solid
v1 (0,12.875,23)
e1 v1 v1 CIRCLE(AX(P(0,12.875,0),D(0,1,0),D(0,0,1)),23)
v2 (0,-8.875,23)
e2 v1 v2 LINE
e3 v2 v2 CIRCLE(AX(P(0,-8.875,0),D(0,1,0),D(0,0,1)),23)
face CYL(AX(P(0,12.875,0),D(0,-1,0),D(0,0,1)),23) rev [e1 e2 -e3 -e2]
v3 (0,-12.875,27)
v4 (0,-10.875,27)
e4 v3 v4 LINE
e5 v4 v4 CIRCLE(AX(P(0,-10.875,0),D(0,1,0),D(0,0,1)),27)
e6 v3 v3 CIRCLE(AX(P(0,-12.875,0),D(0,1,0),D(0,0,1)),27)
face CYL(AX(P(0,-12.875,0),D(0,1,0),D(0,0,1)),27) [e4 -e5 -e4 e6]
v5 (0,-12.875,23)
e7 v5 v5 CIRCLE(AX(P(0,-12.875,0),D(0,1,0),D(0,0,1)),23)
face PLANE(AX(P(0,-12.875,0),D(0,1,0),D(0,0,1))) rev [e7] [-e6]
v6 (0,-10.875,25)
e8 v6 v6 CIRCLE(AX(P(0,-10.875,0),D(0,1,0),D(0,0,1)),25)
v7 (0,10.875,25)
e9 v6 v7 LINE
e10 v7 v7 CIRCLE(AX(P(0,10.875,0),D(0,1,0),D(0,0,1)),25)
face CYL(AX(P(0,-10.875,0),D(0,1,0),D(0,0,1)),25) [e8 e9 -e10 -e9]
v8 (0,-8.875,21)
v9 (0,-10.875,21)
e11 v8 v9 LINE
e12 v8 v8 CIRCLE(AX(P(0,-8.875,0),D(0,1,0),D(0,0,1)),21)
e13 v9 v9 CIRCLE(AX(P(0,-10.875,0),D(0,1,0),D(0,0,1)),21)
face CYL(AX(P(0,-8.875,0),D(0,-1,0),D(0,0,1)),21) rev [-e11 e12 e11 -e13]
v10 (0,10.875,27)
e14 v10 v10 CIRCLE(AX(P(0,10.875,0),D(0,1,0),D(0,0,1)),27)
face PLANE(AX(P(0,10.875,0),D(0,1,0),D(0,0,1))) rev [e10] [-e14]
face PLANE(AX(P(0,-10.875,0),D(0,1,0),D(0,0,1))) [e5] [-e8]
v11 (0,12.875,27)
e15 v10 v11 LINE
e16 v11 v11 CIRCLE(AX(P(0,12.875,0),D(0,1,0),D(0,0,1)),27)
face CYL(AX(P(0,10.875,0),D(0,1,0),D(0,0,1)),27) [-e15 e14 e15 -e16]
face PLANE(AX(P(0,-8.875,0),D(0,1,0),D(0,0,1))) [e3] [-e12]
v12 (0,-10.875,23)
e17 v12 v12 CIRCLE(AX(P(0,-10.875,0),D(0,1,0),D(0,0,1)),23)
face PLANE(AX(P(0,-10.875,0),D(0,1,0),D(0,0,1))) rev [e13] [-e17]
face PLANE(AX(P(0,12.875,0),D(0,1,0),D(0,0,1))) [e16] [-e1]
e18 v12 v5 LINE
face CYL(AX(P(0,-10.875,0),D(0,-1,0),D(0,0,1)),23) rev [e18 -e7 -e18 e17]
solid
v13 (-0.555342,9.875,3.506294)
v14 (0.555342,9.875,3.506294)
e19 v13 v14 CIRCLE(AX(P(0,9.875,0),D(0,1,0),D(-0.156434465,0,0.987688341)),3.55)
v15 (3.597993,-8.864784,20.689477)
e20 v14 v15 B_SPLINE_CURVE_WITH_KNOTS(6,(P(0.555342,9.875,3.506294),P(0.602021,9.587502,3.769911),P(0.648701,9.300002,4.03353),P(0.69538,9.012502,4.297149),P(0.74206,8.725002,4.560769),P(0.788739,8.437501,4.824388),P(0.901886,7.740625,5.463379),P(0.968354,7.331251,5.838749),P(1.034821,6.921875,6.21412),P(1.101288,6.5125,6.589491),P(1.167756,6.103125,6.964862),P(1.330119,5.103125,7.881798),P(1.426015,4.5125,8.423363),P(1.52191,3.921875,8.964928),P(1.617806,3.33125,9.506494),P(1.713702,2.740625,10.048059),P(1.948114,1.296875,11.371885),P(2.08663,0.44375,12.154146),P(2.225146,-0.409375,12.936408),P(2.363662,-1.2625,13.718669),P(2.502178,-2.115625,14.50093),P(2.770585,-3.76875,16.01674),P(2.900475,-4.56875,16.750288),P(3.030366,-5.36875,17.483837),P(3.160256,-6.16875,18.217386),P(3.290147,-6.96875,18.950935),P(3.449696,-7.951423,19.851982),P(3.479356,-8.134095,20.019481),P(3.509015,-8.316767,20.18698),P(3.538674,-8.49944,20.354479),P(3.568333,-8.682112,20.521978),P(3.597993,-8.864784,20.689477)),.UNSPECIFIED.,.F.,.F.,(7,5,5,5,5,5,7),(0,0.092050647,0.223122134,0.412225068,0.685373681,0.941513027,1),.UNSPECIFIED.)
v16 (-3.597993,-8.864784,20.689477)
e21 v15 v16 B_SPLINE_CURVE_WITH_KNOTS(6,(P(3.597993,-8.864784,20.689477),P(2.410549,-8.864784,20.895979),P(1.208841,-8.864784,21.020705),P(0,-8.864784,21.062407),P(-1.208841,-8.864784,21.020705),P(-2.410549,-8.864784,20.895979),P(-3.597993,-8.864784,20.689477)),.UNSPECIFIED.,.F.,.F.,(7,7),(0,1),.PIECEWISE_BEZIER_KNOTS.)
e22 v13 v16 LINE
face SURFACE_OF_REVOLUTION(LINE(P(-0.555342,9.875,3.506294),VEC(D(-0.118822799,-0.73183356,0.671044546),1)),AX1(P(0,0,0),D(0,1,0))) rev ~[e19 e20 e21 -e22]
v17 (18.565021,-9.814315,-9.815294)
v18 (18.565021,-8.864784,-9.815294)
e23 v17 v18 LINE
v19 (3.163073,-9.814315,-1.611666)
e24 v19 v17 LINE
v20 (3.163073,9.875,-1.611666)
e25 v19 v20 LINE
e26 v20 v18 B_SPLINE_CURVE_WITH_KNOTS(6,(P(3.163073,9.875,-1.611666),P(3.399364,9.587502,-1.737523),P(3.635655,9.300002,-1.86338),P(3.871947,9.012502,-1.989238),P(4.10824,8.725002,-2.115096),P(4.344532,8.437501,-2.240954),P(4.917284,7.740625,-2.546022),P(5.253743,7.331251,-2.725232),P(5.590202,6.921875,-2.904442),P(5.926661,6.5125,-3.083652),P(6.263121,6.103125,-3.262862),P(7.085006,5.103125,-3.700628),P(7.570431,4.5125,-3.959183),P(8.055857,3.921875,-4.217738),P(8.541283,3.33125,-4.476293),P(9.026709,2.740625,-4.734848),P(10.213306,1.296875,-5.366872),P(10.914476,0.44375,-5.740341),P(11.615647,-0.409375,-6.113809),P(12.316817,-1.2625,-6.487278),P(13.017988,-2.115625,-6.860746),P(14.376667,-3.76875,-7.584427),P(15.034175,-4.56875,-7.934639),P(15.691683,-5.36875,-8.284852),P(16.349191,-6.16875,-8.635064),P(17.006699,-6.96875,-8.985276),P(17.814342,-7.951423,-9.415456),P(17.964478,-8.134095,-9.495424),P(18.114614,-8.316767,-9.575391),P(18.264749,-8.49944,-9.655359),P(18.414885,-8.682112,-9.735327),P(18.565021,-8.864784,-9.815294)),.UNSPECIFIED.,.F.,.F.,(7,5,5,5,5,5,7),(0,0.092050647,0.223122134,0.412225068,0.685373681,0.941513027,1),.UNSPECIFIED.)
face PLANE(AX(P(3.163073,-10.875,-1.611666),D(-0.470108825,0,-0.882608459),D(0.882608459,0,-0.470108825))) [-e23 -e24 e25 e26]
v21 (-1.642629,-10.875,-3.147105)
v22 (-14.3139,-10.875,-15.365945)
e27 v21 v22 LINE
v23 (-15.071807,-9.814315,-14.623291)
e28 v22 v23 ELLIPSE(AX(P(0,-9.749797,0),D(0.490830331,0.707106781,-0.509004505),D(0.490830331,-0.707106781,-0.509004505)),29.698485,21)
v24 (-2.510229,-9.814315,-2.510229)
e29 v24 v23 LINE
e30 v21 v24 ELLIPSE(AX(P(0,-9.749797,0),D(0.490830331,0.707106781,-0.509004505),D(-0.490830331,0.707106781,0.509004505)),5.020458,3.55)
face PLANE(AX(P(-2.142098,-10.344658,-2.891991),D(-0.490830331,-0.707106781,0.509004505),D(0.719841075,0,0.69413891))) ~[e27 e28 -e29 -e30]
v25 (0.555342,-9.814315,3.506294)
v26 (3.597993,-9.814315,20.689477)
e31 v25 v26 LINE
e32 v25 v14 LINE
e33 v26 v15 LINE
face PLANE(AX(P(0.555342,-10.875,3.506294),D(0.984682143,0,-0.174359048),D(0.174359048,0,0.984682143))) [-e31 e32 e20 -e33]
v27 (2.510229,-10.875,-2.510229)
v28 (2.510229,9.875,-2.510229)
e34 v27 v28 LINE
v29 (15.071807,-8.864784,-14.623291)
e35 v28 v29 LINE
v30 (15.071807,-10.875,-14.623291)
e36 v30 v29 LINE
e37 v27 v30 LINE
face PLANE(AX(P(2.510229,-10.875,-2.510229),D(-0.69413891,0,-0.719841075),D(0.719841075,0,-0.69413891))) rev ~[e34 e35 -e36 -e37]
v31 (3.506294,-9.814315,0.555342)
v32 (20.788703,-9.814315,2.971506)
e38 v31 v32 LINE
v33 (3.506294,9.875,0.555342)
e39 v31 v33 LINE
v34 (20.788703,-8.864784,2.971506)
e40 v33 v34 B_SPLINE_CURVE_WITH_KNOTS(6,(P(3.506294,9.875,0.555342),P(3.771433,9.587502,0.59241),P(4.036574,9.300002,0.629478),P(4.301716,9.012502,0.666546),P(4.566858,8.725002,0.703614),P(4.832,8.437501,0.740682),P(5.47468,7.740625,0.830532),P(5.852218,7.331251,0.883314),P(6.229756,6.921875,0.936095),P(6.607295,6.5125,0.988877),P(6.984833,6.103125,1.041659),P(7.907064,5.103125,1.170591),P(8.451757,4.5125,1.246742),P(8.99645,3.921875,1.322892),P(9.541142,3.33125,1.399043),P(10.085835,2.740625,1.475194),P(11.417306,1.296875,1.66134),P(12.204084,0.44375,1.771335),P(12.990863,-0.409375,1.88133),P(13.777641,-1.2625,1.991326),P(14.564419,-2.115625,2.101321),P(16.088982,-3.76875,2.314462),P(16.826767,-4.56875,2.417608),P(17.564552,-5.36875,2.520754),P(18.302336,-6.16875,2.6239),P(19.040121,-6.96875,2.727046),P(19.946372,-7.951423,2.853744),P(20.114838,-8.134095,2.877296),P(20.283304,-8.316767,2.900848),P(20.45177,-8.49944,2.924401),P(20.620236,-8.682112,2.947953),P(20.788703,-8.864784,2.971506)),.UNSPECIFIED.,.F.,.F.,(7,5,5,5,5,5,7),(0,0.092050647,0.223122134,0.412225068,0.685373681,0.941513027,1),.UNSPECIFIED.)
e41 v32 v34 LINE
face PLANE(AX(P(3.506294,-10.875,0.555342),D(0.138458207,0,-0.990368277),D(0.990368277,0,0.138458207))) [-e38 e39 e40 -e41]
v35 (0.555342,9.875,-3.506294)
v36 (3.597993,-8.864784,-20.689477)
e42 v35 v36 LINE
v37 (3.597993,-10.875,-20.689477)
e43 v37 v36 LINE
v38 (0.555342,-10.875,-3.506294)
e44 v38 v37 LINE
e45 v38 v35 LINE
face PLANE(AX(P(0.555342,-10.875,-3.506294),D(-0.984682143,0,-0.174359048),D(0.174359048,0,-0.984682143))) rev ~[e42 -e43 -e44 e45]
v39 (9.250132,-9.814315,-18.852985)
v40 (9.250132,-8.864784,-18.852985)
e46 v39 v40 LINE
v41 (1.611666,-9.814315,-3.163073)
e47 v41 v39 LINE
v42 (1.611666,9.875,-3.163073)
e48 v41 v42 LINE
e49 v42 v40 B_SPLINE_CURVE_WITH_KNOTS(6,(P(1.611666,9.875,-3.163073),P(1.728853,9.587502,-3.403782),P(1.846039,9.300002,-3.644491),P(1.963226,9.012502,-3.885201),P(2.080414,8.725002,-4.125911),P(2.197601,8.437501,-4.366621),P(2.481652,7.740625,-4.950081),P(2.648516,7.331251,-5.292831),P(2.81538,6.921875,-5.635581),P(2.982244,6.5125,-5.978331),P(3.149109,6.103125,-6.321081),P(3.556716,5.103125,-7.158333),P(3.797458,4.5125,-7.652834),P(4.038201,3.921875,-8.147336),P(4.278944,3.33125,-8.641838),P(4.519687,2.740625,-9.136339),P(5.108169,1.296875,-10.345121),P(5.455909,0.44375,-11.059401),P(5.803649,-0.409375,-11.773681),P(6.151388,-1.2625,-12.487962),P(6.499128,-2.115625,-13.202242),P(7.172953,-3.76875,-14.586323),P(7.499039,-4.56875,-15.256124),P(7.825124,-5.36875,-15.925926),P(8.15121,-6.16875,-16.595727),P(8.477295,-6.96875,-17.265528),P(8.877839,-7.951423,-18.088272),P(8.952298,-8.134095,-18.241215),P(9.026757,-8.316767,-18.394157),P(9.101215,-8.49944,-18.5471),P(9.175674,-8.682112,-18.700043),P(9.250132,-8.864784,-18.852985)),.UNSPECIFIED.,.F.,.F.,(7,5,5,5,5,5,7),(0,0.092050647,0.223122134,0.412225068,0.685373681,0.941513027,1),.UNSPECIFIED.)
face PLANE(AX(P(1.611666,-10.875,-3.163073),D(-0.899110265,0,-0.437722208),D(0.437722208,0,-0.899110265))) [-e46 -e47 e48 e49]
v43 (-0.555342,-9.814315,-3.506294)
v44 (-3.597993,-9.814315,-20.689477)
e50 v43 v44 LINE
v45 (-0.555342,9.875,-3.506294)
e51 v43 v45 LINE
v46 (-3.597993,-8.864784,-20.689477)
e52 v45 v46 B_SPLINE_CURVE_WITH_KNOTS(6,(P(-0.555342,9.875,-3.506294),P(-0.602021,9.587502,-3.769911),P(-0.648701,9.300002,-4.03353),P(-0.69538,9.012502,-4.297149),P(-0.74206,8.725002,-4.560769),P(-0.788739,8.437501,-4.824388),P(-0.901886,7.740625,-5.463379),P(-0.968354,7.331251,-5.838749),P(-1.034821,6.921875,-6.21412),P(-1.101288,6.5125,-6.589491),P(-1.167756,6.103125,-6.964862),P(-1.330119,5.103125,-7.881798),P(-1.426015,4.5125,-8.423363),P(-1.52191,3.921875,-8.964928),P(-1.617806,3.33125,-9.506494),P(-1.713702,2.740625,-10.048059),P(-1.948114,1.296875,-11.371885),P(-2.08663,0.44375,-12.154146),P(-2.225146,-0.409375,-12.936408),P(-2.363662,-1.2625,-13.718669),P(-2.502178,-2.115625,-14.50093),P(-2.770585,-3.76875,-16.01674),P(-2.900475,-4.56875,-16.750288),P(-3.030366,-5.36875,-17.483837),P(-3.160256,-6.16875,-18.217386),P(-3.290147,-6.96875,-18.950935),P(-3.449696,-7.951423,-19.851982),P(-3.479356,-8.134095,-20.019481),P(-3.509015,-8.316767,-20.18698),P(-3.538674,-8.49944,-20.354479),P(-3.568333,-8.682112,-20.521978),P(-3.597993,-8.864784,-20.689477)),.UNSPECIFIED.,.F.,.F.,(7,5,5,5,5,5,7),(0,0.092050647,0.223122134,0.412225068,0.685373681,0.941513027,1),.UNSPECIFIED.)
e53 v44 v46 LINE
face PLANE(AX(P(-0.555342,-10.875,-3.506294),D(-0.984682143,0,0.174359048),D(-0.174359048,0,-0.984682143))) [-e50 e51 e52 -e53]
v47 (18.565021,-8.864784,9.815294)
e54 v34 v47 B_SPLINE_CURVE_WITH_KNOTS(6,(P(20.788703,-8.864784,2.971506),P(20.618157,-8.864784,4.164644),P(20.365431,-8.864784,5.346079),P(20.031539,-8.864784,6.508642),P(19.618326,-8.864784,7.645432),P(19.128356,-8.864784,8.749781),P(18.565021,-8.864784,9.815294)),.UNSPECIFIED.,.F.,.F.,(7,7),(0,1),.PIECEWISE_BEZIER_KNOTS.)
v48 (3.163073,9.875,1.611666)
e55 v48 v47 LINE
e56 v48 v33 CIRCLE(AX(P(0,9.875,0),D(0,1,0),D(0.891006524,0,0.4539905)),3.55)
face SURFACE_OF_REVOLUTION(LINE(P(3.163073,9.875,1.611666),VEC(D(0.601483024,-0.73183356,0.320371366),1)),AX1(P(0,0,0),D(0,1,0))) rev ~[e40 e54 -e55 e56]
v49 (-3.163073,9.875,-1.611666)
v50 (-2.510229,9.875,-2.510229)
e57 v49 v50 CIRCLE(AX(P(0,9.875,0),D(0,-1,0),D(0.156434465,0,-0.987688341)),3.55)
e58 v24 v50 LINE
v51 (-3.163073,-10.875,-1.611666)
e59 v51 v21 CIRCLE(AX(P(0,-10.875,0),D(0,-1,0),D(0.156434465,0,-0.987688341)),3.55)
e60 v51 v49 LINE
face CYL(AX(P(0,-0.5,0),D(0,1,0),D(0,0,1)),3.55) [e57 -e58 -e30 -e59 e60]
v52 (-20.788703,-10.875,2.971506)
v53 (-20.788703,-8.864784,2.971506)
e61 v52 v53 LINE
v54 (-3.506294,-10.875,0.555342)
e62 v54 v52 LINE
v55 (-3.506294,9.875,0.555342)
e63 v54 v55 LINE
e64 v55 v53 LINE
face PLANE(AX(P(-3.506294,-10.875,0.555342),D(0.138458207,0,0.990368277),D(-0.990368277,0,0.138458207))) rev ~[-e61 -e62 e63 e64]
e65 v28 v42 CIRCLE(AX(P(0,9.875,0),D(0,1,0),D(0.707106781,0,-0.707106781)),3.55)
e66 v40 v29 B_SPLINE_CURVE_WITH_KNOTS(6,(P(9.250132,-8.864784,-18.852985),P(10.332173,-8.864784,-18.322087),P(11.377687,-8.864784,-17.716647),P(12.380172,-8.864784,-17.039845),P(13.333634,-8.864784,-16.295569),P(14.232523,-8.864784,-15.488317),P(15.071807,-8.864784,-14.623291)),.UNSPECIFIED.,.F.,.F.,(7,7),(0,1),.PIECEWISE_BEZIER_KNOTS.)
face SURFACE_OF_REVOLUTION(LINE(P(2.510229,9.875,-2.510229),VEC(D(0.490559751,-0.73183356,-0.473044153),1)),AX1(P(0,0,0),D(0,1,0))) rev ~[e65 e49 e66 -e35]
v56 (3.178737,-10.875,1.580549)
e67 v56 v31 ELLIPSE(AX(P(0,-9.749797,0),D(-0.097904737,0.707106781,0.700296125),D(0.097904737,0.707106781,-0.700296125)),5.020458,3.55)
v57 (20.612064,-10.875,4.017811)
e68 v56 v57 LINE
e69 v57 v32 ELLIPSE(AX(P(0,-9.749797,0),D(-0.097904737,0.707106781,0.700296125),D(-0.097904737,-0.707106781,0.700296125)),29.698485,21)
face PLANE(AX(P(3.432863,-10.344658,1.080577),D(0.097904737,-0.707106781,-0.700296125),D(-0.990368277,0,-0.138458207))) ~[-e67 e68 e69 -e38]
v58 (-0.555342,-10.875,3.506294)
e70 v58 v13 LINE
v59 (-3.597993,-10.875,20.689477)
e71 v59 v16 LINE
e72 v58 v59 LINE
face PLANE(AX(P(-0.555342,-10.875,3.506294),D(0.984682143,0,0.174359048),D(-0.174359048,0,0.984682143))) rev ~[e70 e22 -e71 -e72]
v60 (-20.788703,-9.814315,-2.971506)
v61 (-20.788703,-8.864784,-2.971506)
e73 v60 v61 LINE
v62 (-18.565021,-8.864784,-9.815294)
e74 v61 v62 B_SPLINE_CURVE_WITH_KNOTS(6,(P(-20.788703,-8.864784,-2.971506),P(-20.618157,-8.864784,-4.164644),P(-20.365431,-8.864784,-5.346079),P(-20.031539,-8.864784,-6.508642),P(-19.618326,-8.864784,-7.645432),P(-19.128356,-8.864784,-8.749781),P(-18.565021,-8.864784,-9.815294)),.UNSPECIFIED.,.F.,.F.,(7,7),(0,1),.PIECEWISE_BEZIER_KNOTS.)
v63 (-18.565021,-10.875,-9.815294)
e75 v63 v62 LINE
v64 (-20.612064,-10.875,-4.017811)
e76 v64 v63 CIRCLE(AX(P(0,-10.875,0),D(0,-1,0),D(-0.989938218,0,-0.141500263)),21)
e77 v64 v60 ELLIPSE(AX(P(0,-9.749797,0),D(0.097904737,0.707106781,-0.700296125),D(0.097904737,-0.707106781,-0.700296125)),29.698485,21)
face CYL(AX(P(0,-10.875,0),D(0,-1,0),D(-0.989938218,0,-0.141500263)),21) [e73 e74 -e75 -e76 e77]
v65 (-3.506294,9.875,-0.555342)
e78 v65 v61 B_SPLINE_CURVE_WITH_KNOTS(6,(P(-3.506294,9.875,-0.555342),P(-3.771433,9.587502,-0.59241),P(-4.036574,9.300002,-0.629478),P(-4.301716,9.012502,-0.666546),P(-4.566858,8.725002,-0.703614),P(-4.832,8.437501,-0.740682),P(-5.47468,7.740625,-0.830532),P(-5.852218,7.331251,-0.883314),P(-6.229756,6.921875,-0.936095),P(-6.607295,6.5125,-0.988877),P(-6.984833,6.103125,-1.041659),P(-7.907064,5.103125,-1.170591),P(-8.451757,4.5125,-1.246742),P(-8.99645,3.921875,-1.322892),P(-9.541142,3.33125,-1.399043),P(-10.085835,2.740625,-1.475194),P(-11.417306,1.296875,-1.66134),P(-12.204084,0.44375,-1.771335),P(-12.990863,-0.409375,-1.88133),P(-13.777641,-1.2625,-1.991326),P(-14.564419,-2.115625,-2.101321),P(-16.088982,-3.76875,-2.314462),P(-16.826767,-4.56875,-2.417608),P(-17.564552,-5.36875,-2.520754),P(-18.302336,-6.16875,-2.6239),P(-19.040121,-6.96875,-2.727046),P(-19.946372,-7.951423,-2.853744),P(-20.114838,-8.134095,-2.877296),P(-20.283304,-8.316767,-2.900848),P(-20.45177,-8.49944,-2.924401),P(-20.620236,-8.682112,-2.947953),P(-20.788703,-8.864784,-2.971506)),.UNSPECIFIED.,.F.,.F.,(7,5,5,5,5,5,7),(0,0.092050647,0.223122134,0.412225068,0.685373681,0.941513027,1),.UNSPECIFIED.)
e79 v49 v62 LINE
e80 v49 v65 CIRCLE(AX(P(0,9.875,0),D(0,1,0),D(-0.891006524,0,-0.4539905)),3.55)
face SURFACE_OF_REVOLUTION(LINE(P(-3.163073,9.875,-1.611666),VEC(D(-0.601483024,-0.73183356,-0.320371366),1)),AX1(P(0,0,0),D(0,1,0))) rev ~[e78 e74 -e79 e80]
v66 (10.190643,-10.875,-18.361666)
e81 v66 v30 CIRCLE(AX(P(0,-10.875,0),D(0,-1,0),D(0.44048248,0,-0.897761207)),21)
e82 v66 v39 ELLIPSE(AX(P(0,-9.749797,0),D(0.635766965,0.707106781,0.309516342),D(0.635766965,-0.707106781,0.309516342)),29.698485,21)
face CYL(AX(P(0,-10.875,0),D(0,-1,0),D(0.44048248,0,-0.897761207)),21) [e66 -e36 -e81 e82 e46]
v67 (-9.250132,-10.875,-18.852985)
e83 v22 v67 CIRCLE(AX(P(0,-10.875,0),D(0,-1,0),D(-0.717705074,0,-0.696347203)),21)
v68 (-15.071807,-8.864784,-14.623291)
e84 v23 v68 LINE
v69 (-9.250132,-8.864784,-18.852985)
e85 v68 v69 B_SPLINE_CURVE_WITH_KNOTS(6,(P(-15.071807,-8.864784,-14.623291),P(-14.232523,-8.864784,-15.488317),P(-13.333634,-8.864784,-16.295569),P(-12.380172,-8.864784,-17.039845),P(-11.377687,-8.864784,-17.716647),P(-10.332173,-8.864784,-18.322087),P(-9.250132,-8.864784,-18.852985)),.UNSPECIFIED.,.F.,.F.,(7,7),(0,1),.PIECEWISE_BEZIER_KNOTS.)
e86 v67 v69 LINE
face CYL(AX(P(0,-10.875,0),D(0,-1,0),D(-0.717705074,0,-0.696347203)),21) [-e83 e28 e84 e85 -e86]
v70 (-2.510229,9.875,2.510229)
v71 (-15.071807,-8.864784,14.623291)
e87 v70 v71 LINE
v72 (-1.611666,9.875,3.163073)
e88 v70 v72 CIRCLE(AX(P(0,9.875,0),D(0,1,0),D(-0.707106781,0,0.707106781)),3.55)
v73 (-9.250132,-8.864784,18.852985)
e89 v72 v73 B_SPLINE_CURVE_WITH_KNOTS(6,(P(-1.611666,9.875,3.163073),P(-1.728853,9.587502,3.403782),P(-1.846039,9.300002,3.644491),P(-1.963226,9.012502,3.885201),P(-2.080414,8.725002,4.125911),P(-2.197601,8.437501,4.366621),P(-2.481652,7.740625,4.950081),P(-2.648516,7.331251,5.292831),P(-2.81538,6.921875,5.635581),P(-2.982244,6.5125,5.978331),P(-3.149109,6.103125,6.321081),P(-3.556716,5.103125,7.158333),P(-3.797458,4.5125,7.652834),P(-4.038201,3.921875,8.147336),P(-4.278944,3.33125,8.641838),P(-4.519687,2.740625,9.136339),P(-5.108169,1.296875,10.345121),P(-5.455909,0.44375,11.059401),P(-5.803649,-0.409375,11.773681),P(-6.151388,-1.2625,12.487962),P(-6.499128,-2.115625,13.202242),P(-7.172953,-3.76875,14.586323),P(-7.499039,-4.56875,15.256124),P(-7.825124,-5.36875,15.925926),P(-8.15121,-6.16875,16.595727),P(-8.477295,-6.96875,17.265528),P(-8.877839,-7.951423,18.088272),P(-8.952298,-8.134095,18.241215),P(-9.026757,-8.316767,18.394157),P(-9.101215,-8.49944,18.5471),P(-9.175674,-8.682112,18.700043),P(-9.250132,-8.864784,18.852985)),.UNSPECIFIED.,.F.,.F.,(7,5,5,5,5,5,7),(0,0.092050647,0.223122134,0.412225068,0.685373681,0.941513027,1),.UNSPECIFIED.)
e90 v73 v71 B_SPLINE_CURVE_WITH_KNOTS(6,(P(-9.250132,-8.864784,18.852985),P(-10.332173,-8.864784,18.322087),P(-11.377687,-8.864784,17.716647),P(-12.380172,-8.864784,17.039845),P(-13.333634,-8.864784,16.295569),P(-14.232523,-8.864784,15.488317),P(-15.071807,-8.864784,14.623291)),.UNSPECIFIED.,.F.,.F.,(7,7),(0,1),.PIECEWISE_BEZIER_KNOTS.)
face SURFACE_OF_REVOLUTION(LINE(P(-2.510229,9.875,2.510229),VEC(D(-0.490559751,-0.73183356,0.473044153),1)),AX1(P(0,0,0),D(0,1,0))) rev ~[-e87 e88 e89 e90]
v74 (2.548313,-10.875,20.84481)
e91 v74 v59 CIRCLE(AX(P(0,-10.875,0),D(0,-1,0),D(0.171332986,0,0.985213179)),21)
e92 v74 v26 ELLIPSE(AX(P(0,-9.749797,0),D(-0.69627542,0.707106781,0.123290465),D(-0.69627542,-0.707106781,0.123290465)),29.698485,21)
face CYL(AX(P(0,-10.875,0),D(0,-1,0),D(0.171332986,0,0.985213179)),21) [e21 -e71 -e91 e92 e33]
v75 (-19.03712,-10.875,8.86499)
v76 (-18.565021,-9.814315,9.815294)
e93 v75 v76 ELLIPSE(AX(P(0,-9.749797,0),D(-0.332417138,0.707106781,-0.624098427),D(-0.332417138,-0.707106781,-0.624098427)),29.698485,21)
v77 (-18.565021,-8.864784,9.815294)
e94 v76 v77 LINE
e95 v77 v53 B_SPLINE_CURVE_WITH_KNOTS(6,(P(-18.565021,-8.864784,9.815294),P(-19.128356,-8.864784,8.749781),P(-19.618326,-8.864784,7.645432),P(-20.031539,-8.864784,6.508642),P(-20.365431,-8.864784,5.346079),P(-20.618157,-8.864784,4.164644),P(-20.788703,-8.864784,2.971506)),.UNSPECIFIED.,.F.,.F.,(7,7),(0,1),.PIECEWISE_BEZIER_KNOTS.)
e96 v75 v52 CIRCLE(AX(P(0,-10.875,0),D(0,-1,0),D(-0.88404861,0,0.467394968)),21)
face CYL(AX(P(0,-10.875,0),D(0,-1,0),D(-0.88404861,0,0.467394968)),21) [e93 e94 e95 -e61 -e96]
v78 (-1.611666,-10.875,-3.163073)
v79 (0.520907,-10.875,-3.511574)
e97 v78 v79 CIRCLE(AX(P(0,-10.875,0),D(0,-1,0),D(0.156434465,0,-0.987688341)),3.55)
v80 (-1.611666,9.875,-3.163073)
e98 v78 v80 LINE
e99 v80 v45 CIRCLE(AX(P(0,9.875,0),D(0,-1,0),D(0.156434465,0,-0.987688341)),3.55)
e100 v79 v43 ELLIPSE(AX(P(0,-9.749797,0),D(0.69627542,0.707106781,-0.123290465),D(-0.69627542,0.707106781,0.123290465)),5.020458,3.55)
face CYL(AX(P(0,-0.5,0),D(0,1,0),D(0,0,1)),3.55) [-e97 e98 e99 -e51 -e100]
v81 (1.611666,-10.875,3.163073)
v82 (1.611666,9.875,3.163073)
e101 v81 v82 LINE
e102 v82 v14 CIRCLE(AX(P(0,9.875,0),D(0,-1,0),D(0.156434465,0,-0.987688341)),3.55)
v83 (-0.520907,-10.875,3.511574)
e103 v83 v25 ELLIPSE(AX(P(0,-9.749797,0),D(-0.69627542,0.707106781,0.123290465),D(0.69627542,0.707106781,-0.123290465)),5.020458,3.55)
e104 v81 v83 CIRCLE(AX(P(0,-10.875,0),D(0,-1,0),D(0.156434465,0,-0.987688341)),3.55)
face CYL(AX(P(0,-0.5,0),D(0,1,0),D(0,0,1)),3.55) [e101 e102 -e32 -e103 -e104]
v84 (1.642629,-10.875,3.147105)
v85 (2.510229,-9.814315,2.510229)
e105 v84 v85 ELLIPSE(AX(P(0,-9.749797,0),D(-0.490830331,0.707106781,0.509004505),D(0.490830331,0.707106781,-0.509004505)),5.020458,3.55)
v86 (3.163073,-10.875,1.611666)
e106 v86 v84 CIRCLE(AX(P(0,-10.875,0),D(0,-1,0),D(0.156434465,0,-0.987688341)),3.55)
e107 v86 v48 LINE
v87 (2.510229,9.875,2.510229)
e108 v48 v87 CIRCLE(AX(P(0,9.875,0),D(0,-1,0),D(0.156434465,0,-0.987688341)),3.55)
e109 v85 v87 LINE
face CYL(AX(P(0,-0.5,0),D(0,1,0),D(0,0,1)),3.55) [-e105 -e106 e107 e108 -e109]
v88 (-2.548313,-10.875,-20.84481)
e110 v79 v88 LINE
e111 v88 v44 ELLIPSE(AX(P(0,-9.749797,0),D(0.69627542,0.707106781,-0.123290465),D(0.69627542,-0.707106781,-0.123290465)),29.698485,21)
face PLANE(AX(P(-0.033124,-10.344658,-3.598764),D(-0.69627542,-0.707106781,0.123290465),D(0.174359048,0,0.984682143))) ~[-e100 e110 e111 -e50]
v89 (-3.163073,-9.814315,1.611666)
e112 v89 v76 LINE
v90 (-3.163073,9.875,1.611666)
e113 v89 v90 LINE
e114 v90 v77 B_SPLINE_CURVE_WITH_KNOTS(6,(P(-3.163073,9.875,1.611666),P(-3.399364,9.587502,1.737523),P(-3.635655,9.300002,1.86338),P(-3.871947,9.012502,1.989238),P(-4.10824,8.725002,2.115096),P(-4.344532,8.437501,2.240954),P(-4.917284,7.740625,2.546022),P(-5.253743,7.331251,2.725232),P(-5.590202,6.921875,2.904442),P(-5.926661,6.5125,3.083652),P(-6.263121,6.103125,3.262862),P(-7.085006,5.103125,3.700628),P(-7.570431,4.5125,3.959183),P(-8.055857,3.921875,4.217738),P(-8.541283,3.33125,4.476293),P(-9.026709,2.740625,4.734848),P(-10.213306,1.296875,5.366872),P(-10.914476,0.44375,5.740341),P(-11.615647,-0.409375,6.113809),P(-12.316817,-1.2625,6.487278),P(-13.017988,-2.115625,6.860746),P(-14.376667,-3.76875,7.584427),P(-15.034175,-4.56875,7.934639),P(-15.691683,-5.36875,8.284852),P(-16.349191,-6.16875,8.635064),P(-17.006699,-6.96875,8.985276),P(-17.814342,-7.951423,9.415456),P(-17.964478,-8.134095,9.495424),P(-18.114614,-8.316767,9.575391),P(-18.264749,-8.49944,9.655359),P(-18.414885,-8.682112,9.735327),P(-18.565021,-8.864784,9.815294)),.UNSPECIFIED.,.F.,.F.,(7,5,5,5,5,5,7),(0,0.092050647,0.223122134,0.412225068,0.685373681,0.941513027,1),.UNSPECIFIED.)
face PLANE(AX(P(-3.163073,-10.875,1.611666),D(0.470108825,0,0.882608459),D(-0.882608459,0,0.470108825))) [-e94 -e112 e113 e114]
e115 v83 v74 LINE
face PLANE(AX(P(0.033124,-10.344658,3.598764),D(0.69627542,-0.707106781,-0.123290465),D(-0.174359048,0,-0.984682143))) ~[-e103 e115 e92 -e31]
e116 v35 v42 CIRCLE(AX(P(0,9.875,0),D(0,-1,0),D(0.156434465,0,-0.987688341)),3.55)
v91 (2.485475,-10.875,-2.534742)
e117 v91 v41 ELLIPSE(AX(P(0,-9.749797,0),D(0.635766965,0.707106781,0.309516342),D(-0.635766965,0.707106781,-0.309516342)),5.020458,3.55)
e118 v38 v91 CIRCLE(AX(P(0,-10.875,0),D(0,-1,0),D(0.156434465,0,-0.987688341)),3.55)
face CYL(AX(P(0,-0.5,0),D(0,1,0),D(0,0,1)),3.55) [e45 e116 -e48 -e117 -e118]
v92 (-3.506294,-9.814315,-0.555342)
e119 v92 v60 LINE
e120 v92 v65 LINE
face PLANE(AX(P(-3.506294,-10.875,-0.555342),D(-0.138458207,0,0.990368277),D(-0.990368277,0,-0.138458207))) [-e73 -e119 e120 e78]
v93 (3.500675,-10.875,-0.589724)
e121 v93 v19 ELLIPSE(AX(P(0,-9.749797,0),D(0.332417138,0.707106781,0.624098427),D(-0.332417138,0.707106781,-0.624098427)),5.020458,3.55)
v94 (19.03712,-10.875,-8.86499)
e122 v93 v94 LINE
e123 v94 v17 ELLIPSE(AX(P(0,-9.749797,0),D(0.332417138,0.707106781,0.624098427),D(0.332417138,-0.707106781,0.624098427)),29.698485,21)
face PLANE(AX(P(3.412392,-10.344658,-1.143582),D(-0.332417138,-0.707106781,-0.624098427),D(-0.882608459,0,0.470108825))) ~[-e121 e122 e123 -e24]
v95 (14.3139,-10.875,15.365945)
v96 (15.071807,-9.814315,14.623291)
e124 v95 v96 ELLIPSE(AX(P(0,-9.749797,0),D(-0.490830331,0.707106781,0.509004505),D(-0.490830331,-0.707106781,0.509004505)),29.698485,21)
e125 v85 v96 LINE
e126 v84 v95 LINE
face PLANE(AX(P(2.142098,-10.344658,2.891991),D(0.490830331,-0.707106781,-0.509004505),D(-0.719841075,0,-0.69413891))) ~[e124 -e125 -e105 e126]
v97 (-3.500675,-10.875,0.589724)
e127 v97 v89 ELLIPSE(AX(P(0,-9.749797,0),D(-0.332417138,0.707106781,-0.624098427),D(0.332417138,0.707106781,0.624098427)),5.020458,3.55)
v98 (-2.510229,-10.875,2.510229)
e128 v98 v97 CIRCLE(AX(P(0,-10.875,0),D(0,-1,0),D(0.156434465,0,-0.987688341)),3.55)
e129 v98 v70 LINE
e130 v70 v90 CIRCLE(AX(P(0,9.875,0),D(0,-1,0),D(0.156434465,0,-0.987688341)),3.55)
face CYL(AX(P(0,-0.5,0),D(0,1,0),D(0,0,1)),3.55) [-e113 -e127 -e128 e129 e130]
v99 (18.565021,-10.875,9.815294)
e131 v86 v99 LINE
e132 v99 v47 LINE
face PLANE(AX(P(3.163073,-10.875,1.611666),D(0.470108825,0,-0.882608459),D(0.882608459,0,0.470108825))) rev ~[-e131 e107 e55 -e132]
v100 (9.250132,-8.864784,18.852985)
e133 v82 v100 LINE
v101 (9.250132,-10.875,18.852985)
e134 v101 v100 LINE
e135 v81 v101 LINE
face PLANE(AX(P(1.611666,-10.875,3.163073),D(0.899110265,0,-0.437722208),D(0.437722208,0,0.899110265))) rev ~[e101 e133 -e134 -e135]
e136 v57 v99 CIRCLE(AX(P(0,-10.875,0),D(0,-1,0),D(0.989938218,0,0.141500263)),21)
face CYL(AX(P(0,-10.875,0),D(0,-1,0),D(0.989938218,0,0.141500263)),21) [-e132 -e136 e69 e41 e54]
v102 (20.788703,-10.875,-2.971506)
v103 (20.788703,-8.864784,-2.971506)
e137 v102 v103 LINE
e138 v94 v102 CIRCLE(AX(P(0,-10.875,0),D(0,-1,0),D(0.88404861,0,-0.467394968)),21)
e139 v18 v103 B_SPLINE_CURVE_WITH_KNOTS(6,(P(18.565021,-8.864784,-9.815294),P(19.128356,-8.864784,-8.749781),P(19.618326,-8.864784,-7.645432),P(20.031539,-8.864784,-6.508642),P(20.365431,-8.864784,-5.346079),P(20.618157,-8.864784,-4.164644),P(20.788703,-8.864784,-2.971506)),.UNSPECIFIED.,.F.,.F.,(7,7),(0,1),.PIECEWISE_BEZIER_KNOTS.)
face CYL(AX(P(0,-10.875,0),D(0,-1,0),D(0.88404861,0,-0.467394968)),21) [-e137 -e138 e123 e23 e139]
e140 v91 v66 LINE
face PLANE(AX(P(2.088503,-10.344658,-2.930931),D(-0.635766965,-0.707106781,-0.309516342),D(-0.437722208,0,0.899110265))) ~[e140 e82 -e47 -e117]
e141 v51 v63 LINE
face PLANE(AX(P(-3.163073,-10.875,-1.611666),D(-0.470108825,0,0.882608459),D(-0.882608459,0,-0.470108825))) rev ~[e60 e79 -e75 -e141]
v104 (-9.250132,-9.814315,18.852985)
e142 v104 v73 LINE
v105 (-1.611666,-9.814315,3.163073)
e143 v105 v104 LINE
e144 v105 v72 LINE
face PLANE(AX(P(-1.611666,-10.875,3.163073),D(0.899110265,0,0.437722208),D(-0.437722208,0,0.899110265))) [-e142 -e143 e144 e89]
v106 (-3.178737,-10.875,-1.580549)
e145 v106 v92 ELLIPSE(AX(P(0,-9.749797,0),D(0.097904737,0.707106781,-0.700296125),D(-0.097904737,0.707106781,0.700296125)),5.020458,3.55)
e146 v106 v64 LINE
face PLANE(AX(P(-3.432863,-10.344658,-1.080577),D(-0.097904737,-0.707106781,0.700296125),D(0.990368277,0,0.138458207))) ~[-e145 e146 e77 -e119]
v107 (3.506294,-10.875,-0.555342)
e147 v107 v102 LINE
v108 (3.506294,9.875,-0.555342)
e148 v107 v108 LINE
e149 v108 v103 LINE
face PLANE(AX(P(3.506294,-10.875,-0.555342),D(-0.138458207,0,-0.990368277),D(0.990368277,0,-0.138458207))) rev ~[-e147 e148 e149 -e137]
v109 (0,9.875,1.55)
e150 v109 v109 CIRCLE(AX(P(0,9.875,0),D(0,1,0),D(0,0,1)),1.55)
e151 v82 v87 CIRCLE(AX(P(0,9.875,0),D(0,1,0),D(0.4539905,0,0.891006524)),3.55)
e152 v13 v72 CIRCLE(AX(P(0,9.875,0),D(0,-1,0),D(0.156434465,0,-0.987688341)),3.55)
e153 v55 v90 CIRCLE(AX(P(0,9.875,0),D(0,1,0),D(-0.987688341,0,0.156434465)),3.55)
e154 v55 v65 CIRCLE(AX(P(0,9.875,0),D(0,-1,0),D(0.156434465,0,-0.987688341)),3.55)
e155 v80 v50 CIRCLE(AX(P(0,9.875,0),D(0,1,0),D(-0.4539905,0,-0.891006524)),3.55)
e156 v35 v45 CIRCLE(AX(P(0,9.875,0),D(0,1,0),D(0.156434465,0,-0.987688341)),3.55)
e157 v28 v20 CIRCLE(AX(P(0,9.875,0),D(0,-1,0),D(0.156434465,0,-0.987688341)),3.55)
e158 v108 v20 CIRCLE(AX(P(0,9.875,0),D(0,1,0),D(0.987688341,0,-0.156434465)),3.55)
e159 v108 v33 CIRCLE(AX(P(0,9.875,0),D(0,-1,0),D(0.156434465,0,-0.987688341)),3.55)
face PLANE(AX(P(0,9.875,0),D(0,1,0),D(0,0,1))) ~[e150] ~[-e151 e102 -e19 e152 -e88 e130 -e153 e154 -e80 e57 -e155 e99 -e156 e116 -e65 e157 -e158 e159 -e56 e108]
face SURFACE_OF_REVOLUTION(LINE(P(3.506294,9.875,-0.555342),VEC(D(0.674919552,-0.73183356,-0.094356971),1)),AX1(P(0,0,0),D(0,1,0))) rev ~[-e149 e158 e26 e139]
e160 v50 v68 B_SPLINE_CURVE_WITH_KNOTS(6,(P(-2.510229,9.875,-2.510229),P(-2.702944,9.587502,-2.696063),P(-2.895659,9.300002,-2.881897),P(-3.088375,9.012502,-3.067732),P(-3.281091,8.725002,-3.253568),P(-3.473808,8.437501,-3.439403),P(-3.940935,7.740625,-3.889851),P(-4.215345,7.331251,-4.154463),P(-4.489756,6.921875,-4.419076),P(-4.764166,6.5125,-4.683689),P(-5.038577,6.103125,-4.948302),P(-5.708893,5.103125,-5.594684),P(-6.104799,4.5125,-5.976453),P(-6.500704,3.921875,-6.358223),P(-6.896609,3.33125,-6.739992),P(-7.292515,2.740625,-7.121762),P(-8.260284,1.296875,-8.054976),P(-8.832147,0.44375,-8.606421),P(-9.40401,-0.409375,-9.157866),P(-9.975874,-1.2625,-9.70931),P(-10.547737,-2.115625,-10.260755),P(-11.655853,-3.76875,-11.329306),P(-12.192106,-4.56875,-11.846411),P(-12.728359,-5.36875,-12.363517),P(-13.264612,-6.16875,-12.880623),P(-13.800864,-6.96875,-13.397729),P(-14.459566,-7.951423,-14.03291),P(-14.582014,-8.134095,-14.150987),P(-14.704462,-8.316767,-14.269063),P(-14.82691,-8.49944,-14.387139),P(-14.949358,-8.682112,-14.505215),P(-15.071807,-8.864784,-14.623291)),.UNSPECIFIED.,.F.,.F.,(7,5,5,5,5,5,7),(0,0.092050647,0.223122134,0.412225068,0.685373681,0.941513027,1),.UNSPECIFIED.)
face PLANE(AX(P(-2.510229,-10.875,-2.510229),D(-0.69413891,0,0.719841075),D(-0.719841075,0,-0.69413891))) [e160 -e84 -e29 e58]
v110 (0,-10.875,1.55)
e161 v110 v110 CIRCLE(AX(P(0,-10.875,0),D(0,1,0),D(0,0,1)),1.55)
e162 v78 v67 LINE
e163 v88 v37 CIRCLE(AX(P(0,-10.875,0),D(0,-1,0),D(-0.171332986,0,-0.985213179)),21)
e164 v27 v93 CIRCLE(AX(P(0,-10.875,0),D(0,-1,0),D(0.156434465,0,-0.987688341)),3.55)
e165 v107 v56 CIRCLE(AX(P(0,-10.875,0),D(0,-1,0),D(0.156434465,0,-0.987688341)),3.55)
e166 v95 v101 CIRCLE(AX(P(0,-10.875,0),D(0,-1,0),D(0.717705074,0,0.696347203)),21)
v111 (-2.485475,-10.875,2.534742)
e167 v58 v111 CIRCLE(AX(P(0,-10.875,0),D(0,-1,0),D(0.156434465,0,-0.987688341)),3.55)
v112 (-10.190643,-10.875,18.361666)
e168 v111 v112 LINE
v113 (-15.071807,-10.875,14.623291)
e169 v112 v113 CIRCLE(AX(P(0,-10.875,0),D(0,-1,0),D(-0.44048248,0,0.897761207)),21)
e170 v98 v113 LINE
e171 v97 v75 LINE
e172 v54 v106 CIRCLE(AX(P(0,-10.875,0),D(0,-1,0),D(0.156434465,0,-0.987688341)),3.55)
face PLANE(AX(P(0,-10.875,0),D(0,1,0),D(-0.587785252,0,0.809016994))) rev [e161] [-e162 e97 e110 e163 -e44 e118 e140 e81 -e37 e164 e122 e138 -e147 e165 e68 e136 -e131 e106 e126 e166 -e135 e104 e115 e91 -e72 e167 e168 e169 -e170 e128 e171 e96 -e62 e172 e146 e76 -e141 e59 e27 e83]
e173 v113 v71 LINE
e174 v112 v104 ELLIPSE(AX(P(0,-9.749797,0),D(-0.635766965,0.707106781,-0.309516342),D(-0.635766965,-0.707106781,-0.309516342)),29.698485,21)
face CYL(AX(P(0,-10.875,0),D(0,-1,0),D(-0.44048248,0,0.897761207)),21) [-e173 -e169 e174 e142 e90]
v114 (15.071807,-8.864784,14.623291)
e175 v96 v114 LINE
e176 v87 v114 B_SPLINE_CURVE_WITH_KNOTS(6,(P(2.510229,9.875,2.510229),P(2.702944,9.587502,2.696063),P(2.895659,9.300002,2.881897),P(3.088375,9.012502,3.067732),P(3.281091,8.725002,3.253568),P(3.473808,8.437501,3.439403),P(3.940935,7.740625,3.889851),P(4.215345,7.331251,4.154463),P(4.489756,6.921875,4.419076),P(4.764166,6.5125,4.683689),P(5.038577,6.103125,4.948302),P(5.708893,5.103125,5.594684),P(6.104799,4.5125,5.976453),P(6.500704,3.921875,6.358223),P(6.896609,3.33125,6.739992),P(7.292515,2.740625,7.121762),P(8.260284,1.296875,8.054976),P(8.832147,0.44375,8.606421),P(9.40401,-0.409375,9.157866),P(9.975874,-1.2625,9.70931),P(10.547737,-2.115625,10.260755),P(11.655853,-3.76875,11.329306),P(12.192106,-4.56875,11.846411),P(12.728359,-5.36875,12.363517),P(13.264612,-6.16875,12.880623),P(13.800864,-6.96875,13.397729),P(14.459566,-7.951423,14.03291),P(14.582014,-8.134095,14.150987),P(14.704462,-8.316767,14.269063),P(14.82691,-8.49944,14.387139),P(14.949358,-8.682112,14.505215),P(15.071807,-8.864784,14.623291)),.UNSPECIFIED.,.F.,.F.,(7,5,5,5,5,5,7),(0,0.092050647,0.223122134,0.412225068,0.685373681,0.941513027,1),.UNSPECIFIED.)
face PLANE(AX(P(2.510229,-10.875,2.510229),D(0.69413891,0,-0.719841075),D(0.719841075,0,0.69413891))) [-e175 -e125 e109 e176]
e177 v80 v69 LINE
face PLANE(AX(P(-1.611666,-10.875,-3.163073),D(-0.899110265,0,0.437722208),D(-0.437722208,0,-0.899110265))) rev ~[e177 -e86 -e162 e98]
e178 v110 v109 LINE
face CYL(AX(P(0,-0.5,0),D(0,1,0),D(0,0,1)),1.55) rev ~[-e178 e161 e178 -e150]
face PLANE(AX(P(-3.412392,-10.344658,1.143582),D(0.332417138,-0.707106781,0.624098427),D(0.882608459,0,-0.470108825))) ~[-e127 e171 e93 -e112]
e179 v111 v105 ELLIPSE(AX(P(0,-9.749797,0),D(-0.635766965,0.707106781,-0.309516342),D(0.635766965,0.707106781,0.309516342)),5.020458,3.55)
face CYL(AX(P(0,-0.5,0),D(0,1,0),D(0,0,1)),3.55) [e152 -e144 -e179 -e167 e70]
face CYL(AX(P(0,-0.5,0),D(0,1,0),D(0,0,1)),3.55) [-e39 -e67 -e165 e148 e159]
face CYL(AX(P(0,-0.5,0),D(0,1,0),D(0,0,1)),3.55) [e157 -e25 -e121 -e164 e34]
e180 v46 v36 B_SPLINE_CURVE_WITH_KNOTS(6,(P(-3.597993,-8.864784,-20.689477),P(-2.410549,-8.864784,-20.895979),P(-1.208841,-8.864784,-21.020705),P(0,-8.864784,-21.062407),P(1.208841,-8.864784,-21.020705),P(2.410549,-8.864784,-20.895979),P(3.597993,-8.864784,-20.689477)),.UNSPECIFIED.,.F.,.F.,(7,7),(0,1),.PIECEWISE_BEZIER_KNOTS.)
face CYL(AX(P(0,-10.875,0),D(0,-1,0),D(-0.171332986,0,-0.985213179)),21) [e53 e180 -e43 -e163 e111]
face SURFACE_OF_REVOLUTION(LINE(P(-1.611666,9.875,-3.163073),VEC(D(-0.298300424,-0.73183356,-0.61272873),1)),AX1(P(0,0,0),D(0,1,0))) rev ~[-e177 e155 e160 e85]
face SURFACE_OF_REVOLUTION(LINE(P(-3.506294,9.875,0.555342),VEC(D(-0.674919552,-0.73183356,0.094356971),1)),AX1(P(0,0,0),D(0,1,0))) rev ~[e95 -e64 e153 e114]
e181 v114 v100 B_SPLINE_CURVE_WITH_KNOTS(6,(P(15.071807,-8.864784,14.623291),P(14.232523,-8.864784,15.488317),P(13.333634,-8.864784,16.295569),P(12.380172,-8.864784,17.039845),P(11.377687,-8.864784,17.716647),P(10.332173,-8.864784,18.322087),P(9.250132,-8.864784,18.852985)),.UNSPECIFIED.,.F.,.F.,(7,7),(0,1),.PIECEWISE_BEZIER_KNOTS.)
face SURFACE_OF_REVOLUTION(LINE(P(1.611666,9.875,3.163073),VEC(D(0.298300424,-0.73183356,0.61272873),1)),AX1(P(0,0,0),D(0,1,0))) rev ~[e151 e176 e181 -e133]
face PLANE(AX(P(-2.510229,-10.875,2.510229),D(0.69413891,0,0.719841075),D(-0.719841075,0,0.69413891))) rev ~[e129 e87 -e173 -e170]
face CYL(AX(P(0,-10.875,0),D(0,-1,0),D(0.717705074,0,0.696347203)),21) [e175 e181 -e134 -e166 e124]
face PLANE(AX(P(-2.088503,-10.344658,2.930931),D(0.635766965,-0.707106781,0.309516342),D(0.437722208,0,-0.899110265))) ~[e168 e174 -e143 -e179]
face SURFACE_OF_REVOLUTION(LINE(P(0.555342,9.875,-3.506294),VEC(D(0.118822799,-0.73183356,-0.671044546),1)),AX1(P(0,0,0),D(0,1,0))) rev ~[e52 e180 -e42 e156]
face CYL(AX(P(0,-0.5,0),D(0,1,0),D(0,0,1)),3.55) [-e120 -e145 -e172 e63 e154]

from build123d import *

# Parameters (mm, degrees)
SKETCH002_W        = 20.75
SKETCH002_H        = 2
PAD_DEPTH          = 20.75
CHAMFER_SIZE       = 1.0606847018
POLARPATTERN_COUNT = 10


with BuildPart() as wheelrimbody:
    # Sketch → Revolution (revolve)
    with BuildSketch(Plane.YZ):
        Polygon((-10.875, 25.0000000006), (10.875, 25), (10.875, 27), (12.875, 27), (12.875, 23), (-8.875, 23), (-8.875, 21), (-10.875, 21), (-10.875, 23), (-12.875, 23), (-12.875, 27.0000000006), (-10.875, 27.0000000006), align=None)
    revolve(axis=Axis((0, 0, 0), (0, 1, 0)))


with BuildPart() as wheelaxleandspokesbody:
    # Sketch002 → Revolution001 (revolve)
    with BuildSketch(Plane.YZ):
        with Locations((-0.5, 2.55)):
            Rectangle(SKETCH002_W, SKETCH002_H)
    revolve(axis=Axis((0, 0, 0), (0, 1, 0)))

    # Sketch001 (on DatumPlane) → Pad (new body)
    with BuildSketch(Plane(origin=(0, -10.875, 0), x_dir=(0, 0, -1), z_dir=(0, -1, 0))):
        with BuildLine():
            ThreePointArc((20.689476759, -3.5979926959), (21, 0), (20.689476759, 3.5979926959))
            Line((3.5062936091, 0.5553423509), (20.689476759, 3.5979926959))
            ThreePointArc((3.5062936091, -0.5553423509), (3.55, 0), (3.5062936091, 0.5553423509))
            Line((3.5062936091, -0.5553423509), (20.689476759, -3.5979926959))
        make_face()
    extrude(amount=-PAD_DEPTH)

    # Sketch003 (on Local_CS) → Groove (revolve, cut)
    with BuildSketch(Plane(origin=(0.5553423509, 9.875, -3.5062936091), x_dir=(0.1743590483, 0, -0.9846821428), z_dir=(0.9846821428, 0, 0.1743590483))):
        Polygon((0, 0), (17.46, -18.75), (17.46, 0), align=None)
    revolve(axis=Axis((0, 0, 0), (0, 1, 0)), mode=Mode.SUBTRACT)

    # Chamfer
    chamfer_edges = [wheelaxleandspokesbody.edges().sort_by_distance(p)[0] for p in [
        (-2.076668, -10.875, -12.097885),
    ]]
    chamfer(chamfer_edges, length=CHAMFER_SIZE)

    # PolarPattern: WheelAxleAndSpokesBody ×10 about axis
    polarpattern_axis = Axis((0, 0, 0), (0, 1, 0))


with BuildPart() as wheelaxleandspokesbody_1:
    add(wheelaxleandspokesbody.part)
    for i in range(1, POLARPATTERN_COUNT):
        add(wheelaxleandspokesbody.part.rotate(polarpattern_axis, i * 360 / POLARPATTERN_COUNT))


solid = Compound([wheelrimbody.part, wheelaxleandspokesbody_1.part])
